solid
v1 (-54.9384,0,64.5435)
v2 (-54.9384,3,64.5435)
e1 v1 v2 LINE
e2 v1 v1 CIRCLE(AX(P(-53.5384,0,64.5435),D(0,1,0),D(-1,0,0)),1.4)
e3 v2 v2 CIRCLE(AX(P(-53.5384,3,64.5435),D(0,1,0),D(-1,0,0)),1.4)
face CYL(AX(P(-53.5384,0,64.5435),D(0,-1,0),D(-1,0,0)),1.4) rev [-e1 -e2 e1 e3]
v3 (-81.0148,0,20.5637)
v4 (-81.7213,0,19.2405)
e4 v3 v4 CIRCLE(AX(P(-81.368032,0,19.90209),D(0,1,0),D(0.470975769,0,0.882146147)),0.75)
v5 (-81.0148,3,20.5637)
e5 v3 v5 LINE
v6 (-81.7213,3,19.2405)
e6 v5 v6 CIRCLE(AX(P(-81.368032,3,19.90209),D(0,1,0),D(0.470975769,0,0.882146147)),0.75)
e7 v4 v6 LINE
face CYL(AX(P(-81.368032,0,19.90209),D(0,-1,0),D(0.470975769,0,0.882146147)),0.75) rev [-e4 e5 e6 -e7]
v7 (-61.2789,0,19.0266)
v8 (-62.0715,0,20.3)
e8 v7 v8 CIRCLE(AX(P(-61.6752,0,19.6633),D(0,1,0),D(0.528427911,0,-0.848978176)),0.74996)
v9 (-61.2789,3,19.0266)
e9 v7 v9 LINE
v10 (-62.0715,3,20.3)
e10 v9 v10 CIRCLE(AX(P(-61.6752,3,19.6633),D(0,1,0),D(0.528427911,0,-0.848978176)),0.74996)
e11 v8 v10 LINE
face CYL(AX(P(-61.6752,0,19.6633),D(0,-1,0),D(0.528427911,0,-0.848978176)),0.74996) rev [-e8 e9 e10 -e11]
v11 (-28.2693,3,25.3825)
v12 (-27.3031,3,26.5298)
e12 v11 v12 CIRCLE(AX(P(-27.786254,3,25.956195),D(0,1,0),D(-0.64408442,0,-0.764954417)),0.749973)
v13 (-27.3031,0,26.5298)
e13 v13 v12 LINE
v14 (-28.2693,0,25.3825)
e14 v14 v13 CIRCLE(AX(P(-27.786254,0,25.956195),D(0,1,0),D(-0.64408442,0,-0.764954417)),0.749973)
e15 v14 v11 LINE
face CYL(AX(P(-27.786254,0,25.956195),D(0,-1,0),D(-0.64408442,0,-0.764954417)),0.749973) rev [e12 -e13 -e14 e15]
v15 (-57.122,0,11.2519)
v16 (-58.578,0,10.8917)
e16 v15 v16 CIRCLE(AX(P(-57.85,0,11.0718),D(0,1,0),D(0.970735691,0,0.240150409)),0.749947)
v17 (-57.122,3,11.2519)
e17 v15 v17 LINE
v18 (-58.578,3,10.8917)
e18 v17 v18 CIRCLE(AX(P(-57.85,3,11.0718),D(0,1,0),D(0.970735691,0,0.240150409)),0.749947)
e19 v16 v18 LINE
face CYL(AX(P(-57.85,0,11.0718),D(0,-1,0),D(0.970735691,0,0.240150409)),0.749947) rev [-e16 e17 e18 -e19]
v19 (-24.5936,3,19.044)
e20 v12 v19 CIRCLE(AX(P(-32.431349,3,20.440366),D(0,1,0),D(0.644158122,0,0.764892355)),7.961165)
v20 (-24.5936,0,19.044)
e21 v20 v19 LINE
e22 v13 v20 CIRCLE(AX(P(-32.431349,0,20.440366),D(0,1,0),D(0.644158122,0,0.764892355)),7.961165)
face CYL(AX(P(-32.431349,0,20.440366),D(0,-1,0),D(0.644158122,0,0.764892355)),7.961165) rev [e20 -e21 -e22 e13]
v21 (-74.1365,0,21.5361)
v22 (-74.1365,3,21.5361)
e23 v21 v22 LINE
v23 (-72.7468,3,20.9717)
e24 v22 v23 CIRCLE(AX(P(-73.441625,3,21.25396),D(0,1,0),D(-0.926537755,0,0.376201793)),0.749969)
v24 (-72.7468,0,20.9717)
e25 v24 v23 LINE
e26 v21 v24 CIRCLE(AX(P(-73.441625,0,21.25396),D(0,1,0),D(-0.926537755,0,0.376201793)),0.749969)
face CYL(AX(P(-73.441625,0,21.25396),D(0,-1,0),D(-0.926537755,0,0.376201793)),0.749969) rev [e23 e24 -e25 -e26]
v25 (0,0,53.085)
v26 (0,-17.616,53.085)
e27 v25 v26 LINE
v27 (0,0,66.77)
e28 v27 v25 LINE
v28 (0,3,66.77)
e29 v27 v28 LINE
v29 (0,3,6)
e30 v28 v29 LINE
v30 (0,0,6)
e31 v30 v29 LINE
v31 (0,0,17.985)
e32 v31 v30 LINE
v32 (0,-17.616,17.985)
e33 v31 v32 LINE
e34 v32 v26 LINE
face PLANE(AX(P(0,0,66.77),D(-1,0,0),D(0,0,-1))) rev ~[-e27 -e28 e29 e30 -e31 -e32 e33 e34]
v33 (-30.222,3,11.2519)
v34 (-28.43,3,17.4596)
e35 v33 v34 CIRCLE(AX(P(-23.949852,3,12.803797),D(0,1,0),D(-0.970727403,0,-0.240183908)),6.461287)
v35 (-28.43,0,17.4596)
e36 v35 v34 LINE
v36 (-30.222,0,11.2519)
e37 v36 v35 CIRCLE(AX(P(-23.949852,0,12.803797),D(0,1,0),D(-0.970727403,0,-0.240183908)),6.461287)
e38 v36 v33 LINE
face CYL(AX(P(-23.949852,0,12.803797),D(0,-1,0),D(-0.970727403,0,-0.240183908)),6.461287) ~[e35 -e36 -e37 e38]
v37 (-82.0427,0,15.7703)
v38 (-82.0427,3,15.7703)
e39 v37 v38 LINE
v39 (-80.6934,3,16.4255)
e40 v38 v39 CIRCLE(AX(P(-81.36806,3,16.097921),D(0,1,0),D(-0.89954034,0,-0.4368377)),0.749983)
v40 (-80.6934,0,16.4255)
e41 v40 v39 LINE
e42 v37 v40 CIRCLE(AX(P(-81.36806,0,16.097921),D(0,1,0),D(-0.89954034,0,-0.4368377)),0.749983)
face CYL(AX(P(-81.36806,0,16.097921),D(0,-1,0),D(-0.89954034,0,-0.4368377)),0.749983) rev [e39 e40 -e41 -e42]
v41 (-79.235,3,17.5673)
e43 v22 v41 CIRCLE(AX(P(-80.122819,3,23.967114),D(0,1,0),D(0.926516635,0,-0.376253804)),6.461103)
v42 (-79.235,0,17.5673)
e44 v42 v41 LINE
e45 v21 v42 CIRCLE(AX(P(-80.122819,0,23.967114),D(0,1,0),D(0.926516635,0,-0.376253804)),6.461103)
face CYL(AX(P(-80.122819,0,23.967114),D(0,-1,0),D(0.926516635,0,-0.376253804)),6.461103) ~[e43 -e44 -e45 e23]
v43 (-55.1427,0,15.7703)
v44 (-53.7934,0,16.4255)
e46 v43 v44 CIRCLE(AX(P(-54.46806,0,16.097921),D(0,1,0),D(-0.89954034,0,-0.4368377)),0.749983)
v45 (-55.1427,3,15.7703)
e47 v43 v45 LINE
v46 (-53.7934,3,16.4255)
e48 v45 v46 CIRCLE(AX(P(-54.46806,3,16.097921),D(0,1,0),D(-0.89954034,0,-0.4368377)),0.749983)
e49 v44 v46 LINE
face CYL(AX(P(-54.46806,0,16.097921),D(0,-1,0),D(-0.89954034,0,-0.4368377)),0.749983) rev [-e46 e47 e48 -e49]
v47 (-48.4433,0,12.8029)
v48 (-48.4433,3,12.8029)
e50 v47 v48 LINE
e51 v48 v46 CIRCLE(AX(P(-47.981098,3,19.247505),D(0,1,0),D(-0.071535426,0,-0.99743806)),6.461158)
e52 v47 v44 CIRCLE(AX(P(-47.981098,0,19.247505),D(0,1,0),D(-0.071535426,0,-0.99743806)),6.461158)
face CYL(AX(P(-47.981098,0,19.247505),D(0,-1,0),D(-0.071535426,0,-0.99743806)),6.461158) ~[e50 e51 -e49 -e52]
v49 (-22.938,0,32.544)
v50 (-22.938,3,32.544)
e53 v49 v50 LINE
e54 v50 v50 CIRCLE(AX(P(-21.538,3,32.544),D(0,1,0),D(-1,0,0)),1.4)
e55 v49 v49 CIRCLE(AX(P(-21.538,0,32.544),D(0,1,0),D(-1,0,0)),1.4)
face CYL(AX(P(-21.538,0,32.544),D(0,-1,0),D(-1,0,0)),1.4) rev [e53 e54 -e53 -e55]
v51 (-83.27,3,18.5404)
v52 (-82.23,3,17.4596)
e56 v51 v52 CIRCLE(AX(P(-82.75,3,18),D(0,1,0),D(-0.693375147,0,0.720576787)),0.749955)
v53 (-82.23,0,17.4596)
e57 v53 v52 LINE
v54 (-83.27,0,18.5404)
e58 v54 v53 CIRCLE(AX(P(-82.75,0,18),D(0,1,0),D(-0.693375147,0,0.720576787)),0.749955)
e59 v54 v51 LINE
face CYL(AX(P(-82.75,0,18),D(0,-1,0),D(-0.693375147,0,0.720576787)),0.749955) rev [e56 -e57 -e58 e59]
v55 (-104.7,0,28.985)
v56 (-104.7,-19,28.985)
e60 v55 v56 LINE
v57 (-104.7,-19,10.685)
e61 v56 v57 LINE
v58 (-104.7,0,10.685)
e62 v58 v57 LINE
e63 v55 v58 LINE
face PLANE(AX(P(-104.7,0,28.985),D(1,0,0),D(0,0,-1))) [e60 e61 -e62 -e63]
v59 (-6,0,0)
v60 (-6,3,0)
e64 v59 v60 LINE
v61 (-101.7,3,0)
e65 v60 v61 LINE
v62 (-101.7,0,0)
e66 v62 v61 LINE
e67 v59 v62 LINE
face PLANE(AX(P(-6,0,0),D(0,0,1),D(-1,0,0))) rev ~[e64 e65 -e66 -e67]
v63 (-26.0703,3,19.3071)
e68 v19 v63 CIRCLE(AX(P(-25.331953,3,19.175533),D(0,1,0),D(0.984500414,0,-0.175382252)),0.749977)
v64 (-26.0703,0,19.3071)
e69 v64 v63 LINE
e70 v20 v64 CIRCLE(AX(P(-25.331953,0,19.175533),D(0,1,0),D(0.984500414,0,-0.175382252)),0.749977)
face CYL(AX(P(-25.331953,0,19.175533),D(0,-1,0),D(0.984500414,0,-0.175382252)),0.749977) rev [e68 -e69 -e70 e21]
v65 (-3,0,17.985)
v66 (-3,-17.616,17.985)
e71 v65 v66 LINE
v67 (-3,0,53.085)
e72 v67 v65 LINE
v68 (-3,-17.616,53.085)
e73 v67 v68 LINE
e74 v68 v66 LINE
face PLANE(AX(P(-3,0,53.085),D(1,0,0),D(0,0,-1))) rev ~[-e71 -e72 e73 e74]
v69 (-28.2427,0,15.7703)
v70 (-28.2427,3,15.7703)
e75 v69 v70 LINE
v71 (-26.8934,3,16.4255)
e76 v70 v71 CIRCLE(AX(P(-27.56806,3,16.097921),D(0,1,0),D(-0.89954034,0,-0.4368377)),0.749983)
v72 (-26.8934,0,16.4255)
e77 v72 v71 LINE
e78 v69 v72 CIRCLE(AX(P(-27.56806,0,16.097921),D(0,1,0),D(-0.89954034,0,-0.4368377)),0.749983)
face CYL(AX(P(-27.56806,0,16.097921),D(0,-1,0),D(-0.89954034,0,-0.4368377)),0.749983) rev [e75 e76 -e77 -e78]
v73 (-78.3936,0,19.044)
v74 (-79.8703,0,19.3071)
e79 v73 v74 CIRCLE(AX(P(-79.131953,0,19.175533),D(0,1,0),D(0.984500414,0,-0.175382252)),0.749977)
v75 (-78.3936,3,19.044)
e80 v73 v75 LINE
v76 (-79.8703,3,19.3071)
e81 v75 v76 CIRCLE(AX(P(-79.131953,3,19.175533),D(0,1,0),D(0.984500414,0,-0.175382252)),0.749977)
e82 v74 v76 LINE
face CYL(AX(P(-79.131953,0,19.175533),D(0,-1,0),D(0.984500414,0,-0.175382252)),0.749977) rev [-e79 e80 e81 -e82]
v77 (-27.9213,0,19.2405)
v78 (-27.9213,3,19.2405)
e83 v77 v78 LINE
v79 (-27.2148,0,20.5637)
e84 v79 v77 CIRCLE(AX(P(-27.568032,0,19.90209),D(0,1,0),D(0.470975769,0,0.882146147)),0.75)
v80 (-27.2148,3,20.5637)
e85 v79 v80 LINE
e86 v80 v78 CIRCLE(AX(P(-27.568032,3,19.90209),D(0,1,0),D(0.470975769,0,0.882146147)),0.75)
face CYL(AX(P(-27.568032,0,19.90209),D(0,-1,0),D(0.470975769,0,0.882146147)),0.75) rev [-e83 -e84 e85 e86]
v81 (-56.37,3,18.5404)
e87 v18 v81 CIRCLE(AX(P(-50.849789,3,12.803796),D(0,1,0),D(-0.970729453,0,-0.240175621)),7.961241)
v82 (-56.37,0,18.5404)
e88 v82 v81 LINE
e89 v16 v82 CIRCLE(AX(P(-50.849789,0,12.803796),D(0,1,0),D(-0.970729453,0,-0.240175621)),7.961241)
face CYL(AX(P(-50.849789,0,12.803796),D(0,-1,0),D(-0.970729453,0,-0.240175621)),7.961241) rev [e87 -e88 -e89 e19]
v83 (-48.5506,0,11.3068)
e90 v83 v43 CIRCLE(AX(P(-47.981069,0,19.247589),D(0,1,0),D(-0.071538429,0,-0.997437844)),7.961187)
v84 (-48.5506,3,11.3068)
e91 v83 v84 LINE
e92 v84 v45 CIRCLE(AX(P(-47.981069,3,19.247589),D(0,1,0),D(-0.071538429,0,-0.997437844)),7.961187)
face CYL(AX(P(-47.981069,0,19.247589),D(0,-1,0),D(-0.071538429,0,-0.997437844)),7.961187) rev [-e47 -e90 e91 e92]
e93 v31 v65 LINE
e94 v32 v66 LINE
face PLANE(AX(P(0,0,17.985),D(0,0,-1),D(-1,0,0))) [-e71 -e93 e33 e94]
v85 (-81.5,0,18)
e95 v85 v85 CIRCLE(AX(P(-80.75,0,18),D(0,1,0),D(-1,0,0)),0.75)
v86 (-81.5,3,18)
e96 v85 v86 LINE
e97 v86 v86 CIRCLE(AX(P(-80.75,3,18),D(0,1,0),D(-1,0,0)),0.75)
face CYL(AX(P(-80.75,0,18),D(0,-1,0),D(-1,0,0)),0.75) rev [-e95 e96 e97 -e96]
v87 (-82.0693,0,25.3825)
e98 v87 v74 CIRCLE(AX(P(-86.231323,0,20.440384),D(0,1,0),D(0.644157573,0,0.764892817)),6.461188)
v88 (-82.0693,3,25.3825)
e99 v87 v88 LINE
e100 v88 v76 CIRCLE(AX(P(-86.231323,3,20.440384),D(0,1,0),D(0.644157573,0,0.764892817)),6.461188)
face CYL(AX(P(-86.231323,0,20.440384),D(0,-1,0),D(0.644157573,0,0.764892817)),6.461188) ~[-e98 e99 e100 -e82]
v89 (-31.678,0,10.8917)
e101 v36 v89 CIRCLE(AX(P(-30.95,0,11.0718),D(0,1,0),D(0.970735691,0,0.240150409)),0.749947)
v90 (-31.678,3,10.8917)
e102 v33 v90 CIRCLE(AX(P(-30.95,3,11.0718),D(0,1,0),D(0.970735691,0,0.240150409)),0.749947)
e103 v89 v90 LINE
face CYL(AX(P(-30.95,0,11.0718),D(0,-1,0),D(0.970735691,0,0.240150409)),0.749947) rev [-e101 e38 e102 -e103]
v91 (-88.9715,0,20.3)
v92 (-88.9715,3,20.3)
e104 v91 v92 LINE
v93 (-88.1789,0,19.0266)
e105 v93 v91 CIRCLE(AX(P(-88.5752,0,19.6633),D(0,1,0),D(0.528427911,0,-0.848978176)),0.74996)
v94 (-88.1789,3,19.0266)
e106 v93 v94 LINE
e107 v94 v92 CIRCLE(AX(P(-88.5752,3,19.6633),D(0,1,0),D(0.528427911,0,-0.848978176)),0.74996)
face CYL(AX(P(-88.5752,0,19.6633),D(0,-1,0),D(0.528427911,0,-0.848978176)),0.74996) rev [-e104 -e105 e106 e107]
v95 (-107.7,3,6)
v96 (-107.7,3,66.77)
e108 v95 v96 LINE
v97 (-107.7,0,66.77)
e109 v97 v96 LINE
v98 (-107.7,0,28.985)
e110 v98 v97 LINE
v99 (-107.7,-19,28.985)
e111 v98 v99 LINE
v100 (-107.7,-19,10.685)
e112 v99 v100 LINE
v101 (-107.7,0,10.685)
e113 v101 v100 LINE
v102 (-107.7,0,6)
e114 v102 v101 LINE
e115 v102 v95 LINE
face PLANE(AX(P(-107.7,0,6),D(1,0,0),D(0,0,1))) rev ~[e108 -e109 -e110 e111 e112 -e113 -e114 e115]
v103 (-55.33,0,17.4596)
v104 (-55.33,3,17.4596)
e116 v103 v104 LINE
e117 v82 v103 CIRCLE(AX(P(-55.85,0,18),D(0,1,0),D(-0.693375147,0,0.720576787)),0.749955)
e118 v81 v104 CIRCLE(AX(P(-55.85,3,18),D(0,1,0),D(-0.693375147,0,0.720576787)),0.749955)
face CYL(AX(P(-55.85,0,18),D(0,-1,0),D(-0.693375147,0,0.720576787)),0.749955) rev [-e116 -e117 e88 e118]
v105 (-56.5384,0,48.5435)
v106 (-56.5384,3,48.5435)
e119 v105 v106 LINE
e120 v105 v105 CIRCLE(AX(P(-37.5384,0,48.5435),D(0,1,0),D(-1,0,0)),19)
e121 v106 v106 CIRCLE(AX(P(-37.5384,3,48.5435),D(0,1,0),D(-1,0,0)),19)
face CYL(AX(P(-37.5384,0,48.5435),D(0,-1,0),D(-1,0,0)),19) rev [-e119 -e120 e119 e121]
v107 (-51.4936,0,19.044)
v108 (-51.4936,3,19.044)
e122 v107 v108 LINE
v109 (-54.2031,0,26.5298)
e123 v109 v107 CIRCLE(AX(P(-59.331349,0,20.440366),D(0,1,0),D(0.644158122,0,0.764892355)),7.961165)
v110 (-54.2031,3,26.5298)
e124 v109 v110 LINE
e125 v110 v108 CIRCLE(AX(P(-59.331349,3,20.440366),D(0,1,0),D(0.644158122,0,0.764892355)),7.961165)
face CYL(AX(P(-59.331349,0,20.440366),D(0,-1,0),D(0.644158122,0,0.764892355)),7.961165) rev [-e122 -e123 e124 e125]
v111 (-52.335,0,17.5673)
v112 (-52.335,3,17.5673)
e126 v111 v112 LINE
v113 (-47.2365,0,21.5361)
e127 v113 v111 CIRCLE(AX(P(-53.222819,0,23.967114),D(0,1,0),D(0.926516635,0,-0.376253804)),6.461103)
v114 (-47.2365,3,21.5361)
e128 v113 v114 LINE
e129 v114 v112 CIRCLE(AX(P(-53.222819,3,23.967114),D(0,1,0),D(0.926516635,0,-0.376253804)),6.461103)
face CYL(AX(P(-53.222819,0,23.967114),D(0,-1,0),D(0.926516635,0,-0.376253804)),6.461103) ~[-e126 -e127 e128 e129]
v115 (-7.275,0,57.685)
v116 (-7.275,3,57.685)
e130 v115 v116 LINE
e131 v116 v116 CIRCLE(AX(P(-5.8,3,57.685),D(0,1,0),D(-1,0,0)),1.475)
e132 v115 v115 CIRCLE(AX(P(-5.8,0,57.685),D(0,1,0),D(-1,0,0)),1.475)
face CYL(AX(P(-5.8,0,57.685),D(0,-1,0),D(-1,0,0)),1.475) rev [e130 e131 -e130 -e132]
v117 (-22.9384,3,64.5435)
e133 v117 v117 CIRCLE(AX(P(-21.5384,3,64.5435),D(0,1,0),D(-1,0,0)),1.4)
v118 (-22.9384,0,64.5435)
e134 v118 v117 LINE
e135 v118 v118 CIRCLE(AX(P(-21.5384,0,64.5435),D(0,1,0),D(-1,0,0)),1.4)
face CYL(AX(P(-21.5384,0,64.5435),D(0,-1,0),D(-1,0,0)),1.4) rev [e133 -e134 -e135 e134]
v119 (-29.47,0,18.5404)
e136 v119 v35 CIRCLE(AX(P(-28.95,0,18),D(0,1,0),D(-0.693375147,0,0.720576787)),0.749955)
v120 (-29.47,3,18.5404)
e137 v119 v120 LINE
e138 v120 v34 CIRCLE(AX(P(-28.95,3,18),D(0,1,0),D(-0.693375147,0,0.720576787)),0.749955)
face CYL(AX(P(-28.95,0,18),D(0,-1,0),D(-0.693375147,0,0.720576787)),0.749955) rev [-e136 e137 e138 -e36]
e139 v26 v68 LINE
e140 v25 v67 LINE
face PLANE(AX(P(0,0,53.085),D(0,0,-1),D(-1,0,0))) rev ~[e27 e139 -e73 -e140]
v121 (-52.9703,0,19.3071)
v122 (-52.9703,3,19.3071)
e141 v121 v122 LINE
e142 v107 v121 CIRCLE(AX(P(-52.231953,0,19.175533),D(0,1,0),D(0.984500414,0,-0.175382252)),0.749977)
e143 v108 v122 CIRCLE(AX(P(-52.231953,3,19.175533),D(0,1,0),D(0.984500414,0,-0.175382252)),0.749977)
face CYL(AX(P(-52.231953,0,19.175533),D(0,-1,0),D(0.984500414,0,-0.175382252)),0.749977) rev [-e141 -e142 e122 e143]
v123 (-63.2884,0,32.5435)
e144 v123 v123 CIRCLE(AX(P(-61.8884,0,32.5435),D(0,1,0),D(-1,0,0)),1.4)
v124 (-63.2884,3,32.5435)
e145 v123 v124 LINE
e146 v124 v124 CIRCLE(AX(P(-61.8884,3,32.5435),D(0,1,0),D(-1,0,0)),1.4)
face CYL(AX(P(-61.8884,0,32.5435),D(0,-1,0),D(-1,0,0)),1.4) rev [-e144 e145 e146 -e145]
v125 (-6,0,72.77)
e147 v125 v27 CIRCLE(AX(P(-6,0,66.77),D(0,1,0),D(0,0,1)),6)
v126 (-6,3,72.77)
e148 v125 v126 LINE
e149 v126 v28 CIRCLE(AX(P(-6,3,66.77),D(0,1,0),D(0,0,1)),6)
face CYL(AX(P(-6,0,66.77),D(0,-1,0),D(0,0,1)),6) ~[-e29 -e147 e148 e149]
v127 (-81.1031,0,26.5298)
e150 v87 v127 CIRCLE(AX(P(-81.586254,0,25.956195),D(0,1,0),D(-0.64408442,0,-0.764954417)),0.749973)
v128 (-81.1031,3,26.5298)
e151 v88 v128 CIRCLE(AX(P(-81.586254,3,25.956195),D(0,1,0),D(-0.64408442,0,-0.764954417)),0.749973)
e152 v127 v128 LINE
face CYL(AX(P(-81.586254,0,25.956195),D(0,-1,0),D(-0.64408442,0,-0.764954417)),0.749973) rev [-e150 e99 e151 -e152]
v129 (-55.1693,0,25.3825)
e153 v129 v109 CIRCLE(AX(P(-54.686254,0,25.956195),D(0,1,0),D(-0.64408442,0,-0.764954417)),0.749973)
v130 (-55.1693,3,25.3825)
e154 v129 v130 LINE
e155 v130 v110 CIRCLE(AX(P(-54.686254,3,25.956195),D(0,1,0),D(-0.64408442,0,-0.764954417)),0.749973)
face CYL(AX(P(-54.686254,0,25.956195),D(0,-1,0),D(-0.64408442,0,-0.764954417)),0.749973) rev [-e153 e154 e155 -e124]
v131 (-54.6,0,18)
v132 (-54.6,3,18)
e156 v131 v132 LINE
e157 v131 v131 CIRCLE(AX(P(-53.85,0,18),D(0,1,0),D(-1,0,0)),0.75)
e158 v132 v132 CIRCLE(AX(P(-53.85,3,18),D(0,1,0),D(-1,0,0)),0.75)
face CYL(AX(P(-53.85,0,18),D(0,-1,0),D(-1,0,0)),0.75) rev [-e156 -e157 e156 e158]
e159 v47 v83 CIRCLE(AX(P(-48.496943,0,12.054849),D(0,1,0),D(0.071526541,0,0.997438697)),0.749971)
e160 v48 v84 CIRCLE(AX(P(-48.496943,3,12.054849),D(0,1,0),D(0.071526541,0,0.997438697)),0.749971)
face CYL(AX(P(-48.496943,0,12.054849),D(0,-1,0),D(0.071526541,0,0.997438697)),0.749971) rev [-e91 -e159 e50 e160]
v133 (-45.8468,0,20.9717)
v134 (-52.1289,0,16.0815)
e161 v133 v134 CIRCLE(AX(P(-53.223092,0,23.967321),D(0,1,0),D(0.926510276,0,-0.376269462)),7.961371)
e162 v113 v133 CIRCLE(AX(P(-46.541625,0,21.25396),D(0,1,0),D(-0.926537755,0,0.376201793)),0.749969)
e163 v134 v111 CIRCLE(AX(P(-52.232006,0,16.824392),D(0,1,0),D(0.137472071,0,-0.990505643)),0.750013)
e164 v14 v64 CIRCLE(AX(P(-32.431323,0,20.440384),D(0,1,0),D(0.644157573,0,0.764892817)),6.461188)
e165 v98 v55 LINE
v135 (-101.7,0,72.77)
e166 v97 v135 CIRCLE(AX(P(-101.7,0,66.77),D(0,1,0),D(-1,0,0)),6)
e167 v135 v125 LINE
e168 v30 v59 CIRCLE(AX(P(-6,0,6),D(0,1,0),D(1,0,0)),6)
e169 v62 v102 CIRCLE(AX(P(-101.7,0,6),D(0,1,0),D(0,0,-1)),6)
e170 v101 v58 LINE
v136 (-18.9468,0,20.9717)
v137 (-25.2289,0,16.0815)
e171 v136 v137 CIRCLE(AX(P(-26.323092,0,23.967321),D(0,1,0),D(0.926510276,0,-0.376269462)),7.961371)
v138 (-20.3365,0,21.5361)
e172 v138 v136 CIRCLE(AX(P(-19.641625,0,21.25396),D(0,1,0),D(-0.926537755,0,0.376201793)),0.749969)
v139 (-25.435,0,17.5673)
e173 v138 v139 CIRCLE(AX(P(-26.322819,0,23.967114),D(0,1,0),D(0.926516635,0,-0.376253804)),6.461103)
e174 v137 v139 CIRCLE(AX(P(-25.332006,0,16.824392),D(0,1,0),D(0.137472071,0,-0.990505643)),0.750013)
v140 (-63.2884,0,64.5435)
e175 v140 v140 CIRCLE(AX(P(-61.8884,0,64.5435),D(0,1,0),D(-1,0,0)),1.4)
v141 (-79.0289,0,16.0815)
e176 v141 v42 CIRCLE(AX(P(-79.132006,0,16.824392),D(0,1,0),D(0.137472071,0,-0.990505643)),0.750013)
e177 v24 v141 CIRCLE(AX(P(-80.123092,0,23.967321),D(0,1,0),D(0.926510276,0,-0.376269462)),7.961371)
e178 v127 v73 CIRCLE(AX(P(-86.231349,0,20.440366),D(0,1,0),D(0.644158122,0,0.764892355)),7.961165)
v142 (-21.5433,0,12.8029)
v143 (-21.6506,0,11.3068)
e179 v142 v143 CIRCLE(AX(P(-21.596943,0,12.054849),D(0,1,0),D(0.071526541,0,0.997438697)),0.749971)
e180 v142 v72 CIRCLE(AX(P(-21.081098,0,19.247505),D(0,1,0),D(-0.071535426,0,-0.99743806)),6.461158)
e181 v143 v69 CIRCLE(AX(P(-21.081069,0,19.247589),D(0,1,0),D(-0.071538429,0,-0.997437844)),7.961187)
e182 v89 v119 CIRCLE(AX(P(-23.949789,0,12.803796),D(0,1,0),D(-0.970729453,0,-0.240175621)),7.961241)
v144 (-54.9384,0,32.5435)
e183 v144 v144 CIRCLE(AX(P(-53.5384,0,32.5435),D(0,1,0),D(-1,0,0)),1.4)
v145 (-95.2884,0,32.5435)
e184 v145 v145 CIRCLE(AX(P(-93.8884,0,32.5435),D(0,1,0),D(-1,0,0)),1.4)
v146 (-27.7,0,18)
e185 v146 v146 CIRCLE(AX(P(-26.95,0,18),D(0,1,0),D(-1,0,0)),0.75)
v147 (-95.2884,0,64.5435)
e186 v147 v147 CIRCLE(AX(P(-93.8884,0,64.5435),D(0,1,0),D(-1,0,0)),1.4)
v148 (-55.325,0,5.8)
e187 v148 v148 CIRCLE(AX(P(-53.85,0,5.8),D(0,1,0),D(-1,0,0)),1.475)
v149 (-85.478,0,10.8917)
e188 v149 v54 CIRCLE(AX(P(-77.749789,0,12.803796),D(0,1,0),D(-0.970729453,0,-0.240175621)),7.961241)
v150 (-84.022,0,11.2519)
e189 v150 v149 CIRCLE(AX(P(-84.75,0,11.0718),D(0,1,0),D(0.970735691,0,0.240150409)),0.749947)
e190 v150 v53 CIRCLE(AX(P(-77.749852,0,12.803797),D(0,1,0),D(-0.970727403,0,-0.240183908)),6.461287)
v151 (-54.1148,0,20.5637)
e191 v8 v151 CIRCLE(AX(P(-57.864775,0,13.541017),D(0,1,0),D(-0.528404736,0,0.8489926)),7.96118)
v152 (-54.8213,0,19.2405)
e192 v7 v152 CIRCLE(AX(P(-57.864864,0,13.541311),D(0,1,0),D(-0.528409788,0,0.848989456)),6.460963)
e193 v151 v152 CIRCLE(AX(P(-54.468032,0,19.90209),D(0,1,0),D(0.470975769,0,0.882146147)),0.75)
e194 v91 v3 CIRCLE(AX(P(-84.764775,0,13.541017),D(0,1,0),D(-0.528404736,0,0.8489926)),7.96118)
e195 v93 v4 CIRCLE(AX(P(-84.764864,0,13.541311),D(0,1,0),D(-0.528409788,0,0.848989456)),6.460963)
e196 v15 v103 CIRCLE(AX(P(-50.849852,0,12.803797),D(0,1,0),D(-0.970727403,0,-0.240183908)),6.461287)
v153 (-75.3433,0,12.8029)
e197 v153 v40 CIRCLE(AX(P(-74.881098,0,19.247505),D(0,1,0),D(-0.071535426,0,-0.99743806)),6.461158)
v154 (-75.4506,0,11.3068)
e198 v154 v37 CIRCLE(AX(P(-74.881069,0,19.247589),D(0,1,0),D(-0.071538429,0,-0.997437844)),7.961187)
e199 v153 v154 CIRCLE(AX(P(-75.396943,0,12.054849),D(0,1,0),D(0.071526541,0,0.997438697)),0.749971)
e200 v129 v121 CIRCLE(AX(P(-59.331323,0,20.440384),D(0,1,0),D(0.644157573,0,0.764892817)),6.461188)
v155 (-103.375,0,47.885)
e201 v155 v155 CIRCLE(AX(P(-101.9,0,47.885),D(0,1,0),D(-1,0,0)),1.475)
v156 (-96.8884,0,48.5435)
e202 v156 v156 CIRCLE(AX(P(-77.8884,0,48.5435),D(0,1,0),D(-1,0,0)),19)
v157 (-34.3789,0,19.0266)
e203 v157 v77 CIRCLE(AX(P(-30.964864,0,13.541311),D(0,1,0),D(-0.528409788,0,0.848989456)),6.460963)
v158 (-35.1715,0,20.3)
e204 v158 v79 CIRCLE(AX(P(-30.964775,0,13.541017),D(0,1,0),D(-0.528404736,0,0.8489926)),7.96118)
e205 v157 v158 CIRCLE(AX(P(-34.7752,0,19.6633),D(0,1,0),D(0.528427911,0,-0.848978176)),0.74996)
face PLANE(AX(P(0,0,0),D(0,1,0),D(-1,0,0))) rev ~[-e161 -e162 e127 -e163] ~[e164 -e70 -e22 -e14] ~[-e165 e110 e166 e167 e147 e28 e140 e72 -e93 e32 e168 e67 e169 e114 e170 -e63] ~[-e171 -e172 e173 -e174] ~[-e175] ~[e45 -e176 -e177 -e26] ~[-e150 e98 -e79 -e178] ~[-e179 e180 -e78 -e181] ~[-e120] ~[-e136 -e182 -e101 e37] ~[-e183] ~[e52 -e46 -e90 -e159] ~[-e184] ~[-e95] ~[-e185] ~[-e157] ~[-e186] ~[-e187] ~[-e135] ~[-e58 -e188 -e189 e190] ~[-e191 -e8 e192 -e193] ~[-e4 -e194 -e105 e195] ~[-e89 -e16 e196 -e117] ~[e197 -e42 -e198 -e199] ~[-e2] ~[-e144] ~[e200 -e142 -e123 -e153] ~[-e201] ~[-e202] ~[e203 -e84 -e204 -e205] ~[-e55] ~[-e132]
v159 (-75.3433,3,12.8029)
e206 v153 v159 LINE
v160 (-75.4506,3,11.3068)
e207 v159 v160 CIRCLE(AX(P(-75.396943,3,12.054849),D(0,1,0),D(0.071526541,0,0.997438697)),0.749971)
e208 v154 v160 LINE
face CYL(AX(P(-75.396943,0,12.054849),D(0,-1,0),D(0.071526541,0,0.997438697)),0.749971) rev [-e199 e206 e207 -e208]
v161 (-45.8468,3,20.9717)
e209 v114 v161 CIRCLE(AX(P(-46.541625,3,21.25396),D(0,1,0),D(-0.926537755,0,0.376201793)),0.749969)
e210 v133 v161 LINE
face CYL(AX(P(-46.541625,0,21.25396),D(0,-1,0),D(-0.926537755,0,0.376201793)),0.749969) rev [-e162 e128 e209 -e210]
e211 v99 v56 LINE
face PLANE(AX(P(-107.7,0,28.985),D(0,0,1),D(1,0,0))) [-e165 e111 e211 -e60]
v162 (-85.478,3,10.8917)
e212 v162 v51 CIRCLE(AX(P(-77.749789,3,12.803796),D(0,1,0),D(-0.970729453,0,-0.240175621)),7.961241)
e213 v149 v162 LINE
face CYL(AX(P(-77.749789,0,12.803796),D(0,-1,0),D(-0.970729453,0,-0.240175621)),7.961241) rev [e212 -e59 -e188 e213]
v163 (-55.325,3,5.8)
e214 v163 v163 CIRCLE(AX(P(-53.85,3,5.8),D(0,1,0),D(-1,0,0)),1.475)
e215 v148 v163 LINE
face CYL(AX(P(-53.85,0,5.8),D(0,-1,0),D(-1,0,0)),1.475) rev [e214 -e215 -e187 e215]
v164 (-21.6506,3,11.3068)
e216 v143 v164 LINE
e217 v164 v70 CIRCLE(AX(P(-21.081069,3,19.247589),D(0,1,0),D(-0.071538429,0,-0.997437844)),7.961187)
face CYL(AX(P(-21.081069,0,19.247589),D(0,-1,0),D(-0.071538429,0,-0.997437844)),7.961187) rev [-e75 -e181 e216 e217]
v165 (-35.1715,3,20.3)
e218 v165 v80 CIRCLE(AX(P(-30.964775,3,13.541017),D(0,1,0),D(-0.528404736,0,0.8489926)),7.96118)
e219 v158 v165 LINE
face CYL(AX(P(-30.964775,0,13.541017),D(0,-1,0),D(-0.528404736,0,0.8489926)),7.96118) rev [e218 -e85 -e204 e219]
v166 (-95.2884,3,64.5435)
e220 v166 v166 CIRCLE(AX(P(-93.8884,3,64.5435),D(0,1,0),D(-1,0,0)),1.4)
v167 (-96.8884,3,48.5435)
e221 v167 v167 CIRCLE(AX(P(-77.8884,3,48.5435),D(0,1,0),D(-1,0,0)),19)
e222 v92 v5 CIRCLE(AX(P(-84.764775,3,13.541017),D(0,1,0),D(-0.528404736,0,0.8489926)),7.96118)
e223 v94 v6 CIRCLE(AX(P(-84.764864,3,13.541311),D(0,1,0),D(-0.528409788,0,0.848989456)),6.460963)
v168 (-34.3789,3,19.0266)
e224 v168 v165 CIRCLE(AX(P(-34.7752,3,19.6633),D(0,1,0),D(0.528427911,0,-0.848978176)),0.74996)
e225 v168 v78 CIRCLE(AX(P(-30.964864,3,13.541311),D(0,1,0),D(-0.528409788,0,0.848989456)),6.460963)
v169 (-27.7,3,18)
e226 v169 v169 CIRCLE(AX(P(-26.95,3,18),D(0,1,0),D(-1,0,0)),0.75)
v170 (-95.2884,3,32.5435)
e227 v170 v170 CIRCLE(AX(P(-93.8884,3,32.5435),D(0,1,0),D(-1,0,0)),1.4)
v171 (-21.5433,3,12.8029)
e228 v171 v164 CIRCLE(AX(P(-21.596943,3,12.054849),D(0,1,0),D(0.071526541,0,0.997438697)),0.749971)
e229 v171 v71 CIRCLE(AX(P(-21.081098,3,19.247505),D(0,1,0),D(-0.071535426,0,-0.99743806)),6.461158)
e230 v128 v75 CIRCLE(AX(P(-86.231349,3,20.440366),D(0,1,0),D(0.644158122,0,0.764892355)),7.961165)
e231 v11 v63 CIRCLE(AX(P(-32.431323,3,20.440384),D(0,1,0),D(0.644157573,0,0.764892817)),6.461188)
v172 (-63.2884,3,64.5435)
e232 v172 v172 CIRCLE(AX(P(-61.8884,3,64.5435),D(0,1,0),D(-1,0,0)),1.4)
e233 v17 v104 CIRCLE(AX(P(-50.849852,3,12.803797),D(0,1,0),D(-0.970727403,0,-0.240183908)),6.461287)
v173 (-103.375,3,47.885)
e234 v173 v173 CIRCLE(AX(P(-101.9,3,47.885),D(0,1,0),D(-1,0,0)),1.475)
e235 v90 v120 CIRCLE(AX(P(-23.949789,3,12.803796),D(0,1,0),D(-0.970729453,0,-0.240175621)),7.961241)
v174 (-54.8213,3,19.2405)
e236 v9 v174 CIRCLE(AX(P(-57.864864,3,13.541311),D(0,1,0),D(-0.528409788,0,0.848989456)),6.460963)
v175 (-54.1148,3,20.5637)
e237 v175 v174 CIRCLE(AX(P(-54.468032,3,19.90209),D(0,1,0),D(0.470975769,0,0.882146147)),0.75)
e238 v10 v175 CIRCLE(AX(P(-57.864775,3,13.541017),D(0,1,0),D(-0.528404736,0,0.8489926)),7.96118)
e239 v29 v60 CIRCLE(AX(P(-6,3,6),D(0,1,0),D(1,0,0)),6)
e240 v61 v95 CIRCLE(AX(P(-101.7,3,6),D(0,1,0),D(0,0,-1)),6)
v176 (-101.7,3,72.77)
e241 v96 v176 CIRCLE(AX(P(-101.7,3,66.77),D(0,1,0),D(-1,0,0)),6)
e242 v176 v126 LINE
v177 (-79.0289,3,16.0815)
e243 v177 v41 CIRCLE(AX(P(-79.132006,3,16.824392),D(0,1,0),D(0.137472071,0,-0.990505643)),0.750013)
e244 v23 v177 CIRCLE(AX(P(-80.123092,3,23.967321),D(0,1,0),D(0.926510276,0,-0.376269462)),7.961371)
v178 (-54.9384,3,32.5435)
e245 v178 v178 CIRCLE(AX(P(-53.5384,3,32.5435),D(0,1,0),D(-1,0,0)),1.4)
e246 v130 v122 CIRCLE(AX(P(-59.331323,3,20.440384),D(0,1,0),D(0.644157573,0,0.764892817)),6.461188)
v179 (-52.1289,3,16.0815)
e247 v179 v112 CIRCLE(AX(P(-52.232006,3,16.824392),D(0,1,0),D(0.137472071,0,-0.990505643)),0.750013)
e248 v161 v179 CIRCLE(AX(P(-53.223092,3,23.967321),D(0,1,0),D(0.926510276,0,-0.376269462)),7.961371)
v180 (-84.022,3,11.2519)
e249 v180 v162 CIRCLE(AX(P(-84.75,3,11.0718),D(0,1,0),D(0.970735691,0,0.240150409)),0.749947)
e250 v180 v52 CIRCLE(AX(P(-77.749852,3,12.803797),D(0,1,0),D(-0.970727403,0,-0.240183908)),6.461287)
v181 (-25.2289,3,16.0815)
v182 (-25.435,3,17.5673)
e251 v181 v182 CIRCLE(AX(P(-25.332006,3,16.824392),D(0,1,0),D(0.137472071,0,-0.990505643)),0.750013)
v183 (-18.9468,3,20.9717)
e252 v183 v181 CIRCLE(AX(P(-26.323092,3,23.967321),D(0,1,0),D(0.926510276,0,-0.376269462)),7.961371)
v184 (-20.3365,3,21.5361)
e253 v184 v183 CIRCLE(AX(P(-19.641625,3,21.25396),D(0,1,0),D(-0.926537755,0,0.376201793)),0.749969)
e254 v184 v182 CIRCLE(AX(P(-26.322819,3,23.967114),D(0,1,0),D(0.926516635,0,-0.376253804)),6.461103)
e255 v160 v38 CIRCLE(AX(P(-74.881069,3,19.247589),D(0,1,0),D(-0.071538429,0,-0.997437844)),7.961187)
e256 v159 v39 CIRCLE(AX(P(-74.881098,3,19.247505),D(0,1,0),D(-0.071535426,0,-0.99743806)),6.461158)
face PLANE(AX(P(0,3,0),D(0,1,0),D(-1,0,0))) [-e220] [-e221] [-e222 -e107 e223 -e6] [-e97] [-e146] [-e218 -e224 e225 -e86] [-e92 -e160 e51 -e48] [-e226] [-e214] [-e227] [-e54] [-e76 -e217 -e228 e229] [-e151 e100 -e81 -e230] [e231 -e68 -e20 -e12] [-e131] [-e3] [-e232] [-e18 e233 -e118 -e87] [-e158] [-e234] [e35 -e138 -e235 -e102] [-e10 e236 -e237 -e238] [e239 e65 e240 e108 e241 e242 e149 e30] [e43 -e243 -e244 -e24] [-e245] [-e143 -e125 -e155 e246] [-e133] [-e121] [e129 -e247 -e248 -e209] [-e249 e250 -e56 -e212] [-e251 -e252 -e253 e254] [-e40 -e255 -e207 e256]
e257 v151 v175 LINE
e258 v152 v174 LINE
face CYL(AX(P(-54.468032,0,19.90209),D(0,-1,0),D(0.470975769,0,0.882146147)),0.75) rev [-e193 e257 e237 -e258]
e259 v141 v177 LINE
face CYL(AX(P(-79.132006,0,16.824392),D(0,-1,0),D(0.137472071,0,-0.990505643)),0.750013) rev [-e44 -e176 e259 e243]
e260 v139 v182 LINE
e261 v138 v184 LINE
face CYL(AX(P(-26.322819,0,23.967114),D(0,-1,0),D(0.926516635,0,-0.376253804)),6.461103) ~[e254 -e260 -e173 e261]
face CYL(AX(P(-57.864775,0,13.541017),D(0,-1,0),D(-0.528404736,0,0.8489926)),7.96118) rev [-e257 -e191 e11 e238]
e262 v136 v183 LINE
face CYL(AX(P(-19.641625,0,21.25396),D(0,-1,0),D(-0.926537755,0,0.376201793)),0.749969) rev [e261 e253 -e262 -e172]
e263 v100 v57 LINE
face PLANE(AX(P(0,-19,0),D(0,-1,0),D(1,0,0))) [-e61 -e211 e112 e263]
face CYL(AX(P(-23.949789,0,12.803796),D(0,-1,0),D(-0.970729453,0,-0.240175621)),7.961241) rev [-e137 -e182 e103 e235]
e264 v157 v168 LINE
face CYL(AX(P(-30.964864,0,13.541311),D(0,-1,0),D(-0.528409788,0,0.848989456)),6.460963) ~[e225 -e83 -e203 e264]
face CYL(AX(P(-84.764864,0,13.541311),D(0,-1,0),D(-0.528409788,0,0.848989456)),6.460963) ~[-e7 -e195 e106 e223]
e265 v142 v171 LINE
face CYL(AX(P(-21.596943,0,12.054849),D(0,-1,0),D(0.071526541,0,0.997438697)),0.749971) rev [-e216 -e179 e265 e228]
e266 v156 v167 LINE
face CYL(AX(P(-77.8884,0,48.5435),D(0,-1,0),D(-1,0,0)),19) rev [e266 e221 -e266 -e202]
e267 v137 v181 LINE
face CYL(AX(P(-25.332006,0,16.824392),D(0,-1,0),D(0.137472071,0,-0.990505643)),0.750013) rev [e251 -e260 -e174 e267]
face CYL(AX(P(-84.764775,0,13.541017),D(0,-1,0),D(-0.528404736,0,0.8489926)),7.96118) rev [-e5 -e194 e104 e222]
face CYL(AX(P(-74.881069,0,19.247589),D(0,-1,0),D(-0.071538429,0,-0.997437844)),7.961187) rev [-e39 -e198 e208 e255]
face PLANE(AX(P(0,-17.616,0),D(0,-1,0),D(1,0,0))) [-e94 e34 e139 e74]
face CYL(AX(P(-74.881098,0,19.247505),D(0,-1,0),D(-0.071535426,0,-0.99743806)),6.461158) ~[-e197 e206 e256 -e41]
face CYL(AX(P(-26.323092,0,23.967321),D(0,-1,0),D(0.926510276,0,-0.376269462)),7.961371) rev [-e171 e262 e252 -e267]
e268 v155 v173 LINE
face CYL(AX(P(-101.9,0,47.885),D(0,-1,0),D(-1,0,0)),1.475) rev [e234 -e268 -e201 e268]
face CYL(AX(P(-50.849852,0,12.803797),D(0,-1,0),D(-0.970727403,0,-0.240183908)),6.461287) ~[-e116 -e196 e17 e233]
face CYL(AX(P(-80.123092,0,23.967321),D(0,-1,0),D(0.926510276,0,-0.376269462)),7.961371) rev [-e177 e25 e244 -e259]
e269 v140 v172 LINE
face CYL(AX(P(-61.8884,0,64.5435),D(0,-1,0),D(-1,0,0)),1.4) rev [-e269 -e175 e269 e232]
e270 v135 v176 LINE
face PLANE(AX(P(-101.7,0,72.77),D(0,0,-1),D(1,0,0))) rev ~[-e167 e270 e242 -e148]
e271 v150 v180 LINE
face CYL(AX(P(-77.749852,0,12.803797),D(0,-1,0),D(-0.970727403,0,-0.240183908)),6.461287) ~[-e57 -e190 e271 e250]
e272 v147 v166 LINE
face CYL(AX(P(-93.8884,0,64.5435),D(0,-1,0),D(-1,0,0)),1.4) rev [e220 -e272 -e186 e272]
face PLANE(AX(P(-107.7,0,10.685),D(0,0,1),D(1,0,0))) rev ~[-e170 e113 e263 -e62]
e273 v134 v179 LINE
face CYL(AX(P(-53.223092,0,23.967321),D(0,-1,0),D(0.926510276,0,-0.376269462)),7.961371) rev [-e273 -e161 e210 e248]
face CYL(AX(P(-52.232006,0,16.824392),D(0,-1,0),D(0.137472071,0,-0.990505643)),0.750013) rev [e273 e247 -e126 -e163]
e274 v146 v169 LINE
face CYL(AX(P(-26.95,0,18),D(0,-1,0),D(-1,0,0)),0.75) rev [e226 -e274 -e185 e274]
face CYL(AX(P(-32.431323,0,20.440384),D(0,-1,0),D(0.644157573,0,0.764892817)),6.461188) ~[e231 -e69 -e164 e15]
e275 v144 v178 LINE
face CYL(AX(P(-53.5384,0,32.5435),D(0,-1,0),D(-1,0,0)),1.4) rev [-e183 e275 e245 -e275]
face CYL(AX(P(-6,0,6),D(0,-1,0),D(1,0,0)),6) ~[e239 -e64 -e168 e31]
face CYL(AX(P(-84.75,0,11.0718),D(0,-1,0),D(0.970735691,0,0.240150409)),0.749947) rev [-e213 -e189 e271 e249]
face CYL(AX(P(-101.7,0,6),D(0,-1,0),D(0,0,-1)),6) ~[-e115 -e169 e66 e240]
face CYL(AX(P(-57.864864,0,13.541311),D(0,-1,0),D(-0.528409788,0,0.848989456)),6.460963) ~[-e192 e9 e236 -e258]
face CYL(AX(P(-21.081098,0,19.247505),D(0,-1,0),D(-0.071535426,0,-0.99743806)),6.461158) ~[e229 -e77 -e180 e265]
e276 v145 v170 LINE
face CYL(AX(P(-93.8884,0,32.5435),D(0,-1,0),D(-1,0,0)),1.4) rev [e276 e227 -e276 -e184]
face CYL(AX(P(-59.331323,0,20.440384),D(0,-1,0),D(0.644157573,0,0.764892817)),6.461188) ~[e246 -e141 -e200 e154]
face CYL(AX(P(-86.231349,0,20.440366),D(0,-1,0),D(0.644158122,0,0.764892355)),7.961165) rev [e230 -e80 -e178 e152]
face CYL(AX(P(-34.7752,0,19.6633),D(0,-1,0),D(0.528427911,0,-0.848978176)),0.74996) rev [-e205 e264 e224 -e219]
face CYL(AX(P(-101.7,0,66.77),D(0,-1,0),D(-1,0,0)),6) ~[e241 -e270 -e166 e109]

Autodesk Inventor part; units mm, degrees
ref_plane "YZ Plane" through (0, 0, 0) normal (1, 0, 0) x (0, 1, 0)
ref_plane "XZ Plane" through (0, 0, 0) normal (0, 1, 0) x (-1, 0, 0)
ref_plane "XY Plane" through (0, 0, 0) normal (0, 0, 1) x (1, 0, 0)
sketch "Sketch1" plane through (0, 0, 0) normal (0, 1, 0) x (-1, 0, 0)
  line L0 (6, 0) -> (101.7, 0)
  line L1 (107.7, 6) -> (107.7, 66.77)
  line L2 (101.7, 72.77) -> (6, 72.77)
  line L3 (0, 66.77) -> (0, 6)
  line L4 (6.59, 3) -> (101.11, 3) construction
  line L5 (104.7, 6.59) -> (104.7, 66.18) construction
  line L6 (101.11, 69.77) -> (6.59, 69.77) construction
  line L7 (3, 66.18) -> (3, 6.59) construction
  arc A0 (6.59, 69.77) -> (3, 66.18) centre (6.59, 66.18) ccw construction
  arc A1 (104.7, 66.18) -> (101.11, 69.77) centre (101.11, 66.18) ccw construction
  arc A2 (101.11, 3) -> (104.7, 6.59) centre (101.11, 6.59) ccw construction
  arc A3 (3, 6.59) -> (6.59, 3) centre (6.59, 6.59) ccw construction
  arc A4 (0, 6) -> (6, 0) centre (6, 6) ccw
  arc A5 (101.7, 0) -> (107.7, 6) centre (101.7, 6) ccw
  arc A6 (107.7, 66.77) -> (101.7, 72.77) centre (101.7, 66.77) ccw
  arc A7 (6, 72.77) -> (0, 66.77) centre (6, 66.77) ccw
  circle A8 centre (53.85, 5.8) radius 1.475
  circle A9 centre (5.8, 57.685) radius 1.475
  circle A10 centre (101.9, 47.885) radius 1.475
  line L8 (61.1, 41.9) -> (61.1, 62.5) construction
  line L9 (61.1, 41.9) -> (97.35, 41.9) construction
  line L10 (61.1, 41.9) -> (24.85, 41.9) construction
  line L11 (24.85, 41.9) -> (24.85, 62.5) construction
  line L12 (24.85, 62.5) -> (97.35, 62.5) construction
  line L13 (97.35, 62.5) -> (97.35, 41.9) construction
  line L14 (61.8884, 68.7185) -> (93.8884, 68.7185) construction
  line L15 (98.0634, 64.5435) -> (98.0634, 32.5435) construction
  line L16 (93.8884, 28.3685) -> (61.8884, 28.3685) construction
  line L17 (57.7134, 32.5435) -> (57.7134, 64.5435) construction
  line L18 (53.5384, 68.7185) -> (21.5384, 68.7185) construction
  line L19 (17.3634, 64.5435) -> (17.3634, 32.5435) construction
  line L20 (21.5384, 28.3685) -> (53.5384, 28.3685) construction
  circle A11 centre (21.538, 32.544) radius 1.4
  arc A12 (21.5384, 68.7185) -> (17.3634, 64.5435) centre (21.5384, 64.5435) ccw construction
  arc A13 (17.3634, 32.5435) -> (21.5384, 28.3685) centre (21.5384, 32.5435) ccw construction
  arc A14 (53.5384, 28.3685) -> (57.7134, 32.5435) centre (53.5384, 32.5435) ccw construction
  arc A15 (57.7134, 32.5435) -> (61.8884, 28.3685) centre (61.8884, 32.5435) ccw construction
  arc A16 (93.8884, 28.3685) -> (98.0634, 32.5435) centre (93.8884, 32.5435) ccw construction
  arc A17 (98.0634, 64.5435) -> (93.8884, 68.7185) centre (93.8884, 64.5435) ccw construction
  arc A18 (57.7134, 64.5435) -> (53.5384, 68.7185) centre (53.5384, 64.5435) ccw construction
  arc A19 (61.8884, 68.7185) -> (57.7134, 64.5435) centre (61.8884, 64.5435) ccw construction
  circle A20 centre (21.5384, 64.5435) radius 1.4
  circle A21 centre (61.8884, 64.5435) radius 1.4
  circle A22 centre (53.5384, 64.5435) radius 1.4
  circle A23 centre (93.8884, 64.5435) radius 1.4
  circle A24 centre (61.8884, 32.5435) radius 1.4
  circle A25 centre (53.5384, 32.5435) radius 1.4
  circle A26 centre (93.8884, 32.5435) radius 1.4
  circle A27 centre (37.5384, 48.5435) radius 19
  circle A28 centre (77.8884, 48.5435) radius 19
  circle A29 centre (53.85, 18) radius 0.75
  arc A30 (58.578, 10.8917) -> (56.37, 18.5404) centre (50.85, 12.8038) ccw
  arc A31 (57.122, 11.2519) -> (55.33, 17.4596) centre (50.85, 12.8038) ccw
  arc A32 (57.122, 11.2519) -> (58.578, 10.8917) centre (57.85, 11.0718) ccw
  arc A33 (56.37, 18.5404) -> (55.33, 17.4596) centre (55.85, 18) ccw
  circle A34 centre (80.75, 18) radius 0.75
  arc A35 (85.478, 10.8917) -> (83.27, 18.5404) centre (77.75, 12.8038) ccw
  arc A36 (84.022, 11.2519) -> (82.23, 17.4596) centre (77.75, 12.8038) ccw
  arc A37 (84.022, 11.2519) -> (85.478, 10.8917) centre (84.75, 11.0718) ccw
  arc A38 (83.27, 18.5404) -> (82.23, 17.4596) centre (82.75, 18) ccw
  arc A39 (88.9715, 20.3) -> (81.0148, 20.5637) centre (84.7648, 13.5411) ccw
  arc A40 (88.1789, 19.0266) -> (81.7213, 19.2405) centre (84.7648, 13.5411) ccw
  arc A41 (81.0148, 20.5637) -> (81.7213, 19.2405) centre (81.368, 19.9021) ccw
  arc A42 (88.1789, 19.0266) -> (88.9715, 20.3) centre (88.5752, 19.6633) ccw
  arc A43 (81.1031, 26.5298) -> (78.3936, 19.044) centre (86.2313, 20.4404) ccw
  arc A44 (82.0693, 25.3825) -> (79.8703, 19.3071) centre (86.2313, 20.4404) ccw
  arc A45 (78.3936, 19.044) -> (79.8703, 19.3071) centre (79.132, 19.1756) ccw
  arc A46 (82.0693, 25.3825) -> (81.1031, 26.5298) centre (81.5862, 25.9562) ccw
  arc A47 (72.7468, 20.9717) -> (79.0289, 16.0815) centre (80.1228, 23.9671) ccw
  arc A48 (74.1365, 21.5361) -> (79.235, 17.5673) centre (80.1228, 23.9671) ccw
  arc A49 (79.0289, 16.0815) -> (79.235, 17.5673) centre (79.132, 16.8244) ccw
  arc A50 (74.1365, 21.5361) -> (72.7468, 20.9717) centre (73.4416, 21.2539) ccw
  arc A51 (75.4506, 11.3068) -> (82.0427, 15.7703) centre (74.8811, 19.2475) ccw
  arc A52 (75.3433, 12.8029) -> (80.6934, 16.4255) centre (74.8811, 19.2475) ccw
  arc A53 (82.0427, 15.7703) -> (80.6934, 16.4255) centre (81.368, 16.0979) ccw
  arc A54 (75.3433, 12.8029) -> (75.4506, 11.3068) centre (75.397, 12.0548) ccw
  circle A55 centre (26.95, 18) radius 0.75
  arc A56 (31.678, 10.8917) -> (29.47, 18.5404) centre (23.95, 12.8038) ccw
  arc A57 (30.222, 11.2519) -> (28.43, 17.4596) centre (23.95, 12.8038) ccw
  arc A58 (30.222, 11.2519) -> (31.678, 10.8917) centre (30.95, 11.0718) ccw
  arc A59 (29.47, 18.5404) -> (28.43, 17.4596) centre (28.95, 18) ccw
  arc A60 (35.1715, 20.3) -> (27.2148, 20.5637) centre (30.9648, 13.5411) ccw
  arc A61 (34.3789, 19.0266) -> (27.9213, 19.2405) centre (30.9648, 13.5411) ccw
  arc A62 (27.2148, 20.5637) -> (27.9213, 19.2405) centre (27.568, 19.9021) ccw
  arc A63 (34.3789, 19.0266) -> (35.1715, 20.3) centre (34.7752, 19.6633) ccw
  arc A64 (27.3031, 26.5298) -> (24.5936, 19.044) centre (32.4313, 20.4404) ccw
  arc A65 (28.2693, 25.3825) -> (26.0703, 19.3071) centre (32.4313, 20.4404) ccw
  arc A66 (24.5936, 19.044) -> (26.0703, 19.3071) centre (25.332, 19.1756) ccw
  arc A67 (28.2693, 25.3825) -> (27.3031, 26.5298) centre (27.7862, 25.9562) ccw
  arc A68 (18.9468, 20.9717) -> (25.2289, 16.0815) centre (26.3228, 23.9671) ccw
  arc A69 (20.3365, 21.5361) -> (25.435, 17.5673) centre (26.3228, 23.9671) ccw
  arc A70 (25.2289, 16.0815) -> (25.435, 17.5673) centre (25.332, 16.8244) ccw
  arc A71 (20.3365, 21.5361) -> (18.9468, 20.9717) centre (19.6416, 21.2539) ccw
  arc A72 (21.6506, 11.3068) -> (28.2427, 15.7703) centre (21.0811, 19.2475) ccw
  arc A73 (21.5433, 12.8029) -> (26.8934, 16.4255) centre (21.0811, 19.2475) ccw
  arc A74 (28.2427, 15.7703) -> (26.8934, 16.4255) centre (27.568, 16.0979) ccw
  arc A75 (21.5433, 12.8029) -> (21.6506, 11.3068) centre (21.597, 12.0548) ccw
  circle A76 centre (53.85, 18) radius 0.75
  arc A77 (58.578, 10.8917) -> (56.37, 18.5404) centre (50.85, 12.8038) ccw
  arc A78 (57.122, 11.2519) -> (55.33, 17.4596) centre (50.85, 12.8038) ccw
  arc A79 (57.122, 11.2519) -> (58.578, 10.8917) centre (57.85, 11.0718) ccw
  arc A80 (56.37, 18.5404) -> (55.33, 17.4596) centre (55.85, 18) ccw
  arc A81 (62.0715, 20.3) -> (54.1148, 20.5637) centre (57.8648, 13.5411) ccw
  arc A82 (61.2789, 19.0266) -> (54.8213, 19.2405) centre (57.8648, 13.5411) ccw
  arc A83 (54.1148, 20.5637) -> (54.8213, 19.2405) centre (54.468, 19.9021) ccw
  arc A84 (61.2789, 19.0266) -> (62.0715, 20.3) centre (61.6752, 19.6633) ccw
  arc A85 (54.2031, 26.5298) -> (51.4936, 19.044) centre (59.3313, 20.4404) ccw
  arc A86 (55.1693, 25.3825) -> (52.9703, 19.3071) centre (59.3313, 20.4404) ccw
  arc A87 (51.4936, 19.044) -> (52.9703, 19.3071) centre (52.232, 19.1756) ccw
  arc A88 (55.1693, 25.3825) -> (54.2031, 26.5298) centre (54.6862, 25.9562) ccw
  arc A89 (45.8468, 20.9717) -> (52.1289, 16.0815) centre (53.2228, 23.9671) ccw
  arc A90 (47.2365, 21.5361) -> (52.335, 17.5673) centre (53.2228, 23.9671) ccw
  arc A91 (52.1289, 16.0815) -> (52.335, 17.5673) centre (52.232, 16.8244) ccw
  arc A92 (47.2365, 21.5361) -> (45.8468, 20.9717) centre (46.5416, 21.2539) ccw
  arc A93 (48.5506, 11.3068) -> (55.1427, 15.7703) centre (47.9811, 19.2475) ccw
  arc A94 (48.4433, 12.8029) -> (53.7934, 16.4255) centre (47.9811, 19.2475) ccw
  arc A95 (55.1427, 15.7703) -> (53.7934, 16.4255) centre (54.468, 16.0979) ccw
  arc A96 (48.4433, 12.8029) -> (48.5506, 11.3068) centre (48.497, 12.0548) ccw
  point P0 (0, 0)
  point P1 (107.7, 0)
  point P2 (107.7, 72.77)
  point P3 (3, 3)
  point P4 (104.7, 3)
  point P5 (104.7, 69.77)
  point P6 (3, 69.77)
  point P7 (57.7134, 68.7185)
  point P8 (98.0634, 28.3685)
  point P9 (98.0634, 68.7185)
  point P10 (57.7134, 28.3685)
  point P11 (17.3634, 68.7185)
  point P12 (17.3634, 28.3685)
  dimension "d0" = 107.7
  dimension "d1" = 72.77
  dimension "d2" = 101.7
  dimension "d3" = 66.77
  dimension "d4" = 101.7
  dimension "d5" = 3.59
  dimension "d6" = 3.59
  dimension "d7" = 6
  dimension "d8" = 2.95
  dimension "d9" = 2.95
  dimension "d10" = 2.95
  dimension "d11" = 3
  dimension "d12" = 3
  dimension "d13" = 5.8
  dimension "d14" = 24.885
  dimension "d15" = 53.85
  dimension "d16" = 66.97
  dimension "d17" = 101.9
  dimension "d18" = 15.085
  dimension "d21" = 36.25
  dimension "d22" = 36.25
  dimension "d23" = 20.6
  dimension "d24" = 40.35
  dimension "d25" = 40.35
  dimension "d26" = 40.35
  dimension "d27" = 40.35
  dimension "d28" = 40.35
  dimension "d29" = 2.8
  dimension "d30" = 4.175
  dimension "d31" = 2.8
  dimension "d32" = 2.8
  dimension "d33" = 2.8
  dimension "d34" = 2.8
  dimension "d35" = 2.8
  dimension "d36" = 2.8
  dimension "d37" = 2.8
  dimension "d40" = 38
  dimension "d41" = 38
  dimension "d71" = 26.9
  dimension "d74" = 26.9
extrude "Extrusion3" add sketch "Sketch1" along normal blind 3
sketch "Sketch2" plane through (0, 0, 0) normal (0, -1, 0) x (1, 0, 0)
  line L0 (-6, 72.77) -> (-101.7, 72.77) projected
  line L1 (-107.7, 66.77) -> (-107.7, 6) projected
  line L2 (-107.7, 10.685) -> (-104.7, 10.685)
  line L3 (-107.7, 28.985) -> (-104.7, 28.985)
  line L4 (-104.7, 28.985) -> (-104.7, 10.685)
  line L5 (-107.7, 28.985) -> (-107.7, 10.685)
  point P0 (0, 0)
  dimension "d44" = 3
  dimension "d45" = 43.785
  dimension "d46" = 62.085
extrude "Extrusion4" add sketch "Sketch2" along normal blind 19
sketch "Sketch3" plane through (0, 0, 0) normal (0, -1, 0) x (1, 0, 0)
  line L0 (0, 6) -> (0, 66.77) projected
  line L1 (-107.7, 66.77) -> (-107.7, 28.985) projected
  line L2 (0, 17.985) -> (-3, 17.985)
  line L3 (0, 53.085) -> (-3, 53.085)
  line L4 (-3, 53.085) -> (-3, 17.985)
  line L5 (0, 17.985) -> (0, 53.085)
  point P0 (0, 0)
  dimension "d49" = 3
  dimension "d50" = 3
extrude "Extrusion5" add sketch "Sketch3" along normal blind 17.616
properties part number "Tapa carcasa SAV" material "Nylon, molybdenum disulphide"
